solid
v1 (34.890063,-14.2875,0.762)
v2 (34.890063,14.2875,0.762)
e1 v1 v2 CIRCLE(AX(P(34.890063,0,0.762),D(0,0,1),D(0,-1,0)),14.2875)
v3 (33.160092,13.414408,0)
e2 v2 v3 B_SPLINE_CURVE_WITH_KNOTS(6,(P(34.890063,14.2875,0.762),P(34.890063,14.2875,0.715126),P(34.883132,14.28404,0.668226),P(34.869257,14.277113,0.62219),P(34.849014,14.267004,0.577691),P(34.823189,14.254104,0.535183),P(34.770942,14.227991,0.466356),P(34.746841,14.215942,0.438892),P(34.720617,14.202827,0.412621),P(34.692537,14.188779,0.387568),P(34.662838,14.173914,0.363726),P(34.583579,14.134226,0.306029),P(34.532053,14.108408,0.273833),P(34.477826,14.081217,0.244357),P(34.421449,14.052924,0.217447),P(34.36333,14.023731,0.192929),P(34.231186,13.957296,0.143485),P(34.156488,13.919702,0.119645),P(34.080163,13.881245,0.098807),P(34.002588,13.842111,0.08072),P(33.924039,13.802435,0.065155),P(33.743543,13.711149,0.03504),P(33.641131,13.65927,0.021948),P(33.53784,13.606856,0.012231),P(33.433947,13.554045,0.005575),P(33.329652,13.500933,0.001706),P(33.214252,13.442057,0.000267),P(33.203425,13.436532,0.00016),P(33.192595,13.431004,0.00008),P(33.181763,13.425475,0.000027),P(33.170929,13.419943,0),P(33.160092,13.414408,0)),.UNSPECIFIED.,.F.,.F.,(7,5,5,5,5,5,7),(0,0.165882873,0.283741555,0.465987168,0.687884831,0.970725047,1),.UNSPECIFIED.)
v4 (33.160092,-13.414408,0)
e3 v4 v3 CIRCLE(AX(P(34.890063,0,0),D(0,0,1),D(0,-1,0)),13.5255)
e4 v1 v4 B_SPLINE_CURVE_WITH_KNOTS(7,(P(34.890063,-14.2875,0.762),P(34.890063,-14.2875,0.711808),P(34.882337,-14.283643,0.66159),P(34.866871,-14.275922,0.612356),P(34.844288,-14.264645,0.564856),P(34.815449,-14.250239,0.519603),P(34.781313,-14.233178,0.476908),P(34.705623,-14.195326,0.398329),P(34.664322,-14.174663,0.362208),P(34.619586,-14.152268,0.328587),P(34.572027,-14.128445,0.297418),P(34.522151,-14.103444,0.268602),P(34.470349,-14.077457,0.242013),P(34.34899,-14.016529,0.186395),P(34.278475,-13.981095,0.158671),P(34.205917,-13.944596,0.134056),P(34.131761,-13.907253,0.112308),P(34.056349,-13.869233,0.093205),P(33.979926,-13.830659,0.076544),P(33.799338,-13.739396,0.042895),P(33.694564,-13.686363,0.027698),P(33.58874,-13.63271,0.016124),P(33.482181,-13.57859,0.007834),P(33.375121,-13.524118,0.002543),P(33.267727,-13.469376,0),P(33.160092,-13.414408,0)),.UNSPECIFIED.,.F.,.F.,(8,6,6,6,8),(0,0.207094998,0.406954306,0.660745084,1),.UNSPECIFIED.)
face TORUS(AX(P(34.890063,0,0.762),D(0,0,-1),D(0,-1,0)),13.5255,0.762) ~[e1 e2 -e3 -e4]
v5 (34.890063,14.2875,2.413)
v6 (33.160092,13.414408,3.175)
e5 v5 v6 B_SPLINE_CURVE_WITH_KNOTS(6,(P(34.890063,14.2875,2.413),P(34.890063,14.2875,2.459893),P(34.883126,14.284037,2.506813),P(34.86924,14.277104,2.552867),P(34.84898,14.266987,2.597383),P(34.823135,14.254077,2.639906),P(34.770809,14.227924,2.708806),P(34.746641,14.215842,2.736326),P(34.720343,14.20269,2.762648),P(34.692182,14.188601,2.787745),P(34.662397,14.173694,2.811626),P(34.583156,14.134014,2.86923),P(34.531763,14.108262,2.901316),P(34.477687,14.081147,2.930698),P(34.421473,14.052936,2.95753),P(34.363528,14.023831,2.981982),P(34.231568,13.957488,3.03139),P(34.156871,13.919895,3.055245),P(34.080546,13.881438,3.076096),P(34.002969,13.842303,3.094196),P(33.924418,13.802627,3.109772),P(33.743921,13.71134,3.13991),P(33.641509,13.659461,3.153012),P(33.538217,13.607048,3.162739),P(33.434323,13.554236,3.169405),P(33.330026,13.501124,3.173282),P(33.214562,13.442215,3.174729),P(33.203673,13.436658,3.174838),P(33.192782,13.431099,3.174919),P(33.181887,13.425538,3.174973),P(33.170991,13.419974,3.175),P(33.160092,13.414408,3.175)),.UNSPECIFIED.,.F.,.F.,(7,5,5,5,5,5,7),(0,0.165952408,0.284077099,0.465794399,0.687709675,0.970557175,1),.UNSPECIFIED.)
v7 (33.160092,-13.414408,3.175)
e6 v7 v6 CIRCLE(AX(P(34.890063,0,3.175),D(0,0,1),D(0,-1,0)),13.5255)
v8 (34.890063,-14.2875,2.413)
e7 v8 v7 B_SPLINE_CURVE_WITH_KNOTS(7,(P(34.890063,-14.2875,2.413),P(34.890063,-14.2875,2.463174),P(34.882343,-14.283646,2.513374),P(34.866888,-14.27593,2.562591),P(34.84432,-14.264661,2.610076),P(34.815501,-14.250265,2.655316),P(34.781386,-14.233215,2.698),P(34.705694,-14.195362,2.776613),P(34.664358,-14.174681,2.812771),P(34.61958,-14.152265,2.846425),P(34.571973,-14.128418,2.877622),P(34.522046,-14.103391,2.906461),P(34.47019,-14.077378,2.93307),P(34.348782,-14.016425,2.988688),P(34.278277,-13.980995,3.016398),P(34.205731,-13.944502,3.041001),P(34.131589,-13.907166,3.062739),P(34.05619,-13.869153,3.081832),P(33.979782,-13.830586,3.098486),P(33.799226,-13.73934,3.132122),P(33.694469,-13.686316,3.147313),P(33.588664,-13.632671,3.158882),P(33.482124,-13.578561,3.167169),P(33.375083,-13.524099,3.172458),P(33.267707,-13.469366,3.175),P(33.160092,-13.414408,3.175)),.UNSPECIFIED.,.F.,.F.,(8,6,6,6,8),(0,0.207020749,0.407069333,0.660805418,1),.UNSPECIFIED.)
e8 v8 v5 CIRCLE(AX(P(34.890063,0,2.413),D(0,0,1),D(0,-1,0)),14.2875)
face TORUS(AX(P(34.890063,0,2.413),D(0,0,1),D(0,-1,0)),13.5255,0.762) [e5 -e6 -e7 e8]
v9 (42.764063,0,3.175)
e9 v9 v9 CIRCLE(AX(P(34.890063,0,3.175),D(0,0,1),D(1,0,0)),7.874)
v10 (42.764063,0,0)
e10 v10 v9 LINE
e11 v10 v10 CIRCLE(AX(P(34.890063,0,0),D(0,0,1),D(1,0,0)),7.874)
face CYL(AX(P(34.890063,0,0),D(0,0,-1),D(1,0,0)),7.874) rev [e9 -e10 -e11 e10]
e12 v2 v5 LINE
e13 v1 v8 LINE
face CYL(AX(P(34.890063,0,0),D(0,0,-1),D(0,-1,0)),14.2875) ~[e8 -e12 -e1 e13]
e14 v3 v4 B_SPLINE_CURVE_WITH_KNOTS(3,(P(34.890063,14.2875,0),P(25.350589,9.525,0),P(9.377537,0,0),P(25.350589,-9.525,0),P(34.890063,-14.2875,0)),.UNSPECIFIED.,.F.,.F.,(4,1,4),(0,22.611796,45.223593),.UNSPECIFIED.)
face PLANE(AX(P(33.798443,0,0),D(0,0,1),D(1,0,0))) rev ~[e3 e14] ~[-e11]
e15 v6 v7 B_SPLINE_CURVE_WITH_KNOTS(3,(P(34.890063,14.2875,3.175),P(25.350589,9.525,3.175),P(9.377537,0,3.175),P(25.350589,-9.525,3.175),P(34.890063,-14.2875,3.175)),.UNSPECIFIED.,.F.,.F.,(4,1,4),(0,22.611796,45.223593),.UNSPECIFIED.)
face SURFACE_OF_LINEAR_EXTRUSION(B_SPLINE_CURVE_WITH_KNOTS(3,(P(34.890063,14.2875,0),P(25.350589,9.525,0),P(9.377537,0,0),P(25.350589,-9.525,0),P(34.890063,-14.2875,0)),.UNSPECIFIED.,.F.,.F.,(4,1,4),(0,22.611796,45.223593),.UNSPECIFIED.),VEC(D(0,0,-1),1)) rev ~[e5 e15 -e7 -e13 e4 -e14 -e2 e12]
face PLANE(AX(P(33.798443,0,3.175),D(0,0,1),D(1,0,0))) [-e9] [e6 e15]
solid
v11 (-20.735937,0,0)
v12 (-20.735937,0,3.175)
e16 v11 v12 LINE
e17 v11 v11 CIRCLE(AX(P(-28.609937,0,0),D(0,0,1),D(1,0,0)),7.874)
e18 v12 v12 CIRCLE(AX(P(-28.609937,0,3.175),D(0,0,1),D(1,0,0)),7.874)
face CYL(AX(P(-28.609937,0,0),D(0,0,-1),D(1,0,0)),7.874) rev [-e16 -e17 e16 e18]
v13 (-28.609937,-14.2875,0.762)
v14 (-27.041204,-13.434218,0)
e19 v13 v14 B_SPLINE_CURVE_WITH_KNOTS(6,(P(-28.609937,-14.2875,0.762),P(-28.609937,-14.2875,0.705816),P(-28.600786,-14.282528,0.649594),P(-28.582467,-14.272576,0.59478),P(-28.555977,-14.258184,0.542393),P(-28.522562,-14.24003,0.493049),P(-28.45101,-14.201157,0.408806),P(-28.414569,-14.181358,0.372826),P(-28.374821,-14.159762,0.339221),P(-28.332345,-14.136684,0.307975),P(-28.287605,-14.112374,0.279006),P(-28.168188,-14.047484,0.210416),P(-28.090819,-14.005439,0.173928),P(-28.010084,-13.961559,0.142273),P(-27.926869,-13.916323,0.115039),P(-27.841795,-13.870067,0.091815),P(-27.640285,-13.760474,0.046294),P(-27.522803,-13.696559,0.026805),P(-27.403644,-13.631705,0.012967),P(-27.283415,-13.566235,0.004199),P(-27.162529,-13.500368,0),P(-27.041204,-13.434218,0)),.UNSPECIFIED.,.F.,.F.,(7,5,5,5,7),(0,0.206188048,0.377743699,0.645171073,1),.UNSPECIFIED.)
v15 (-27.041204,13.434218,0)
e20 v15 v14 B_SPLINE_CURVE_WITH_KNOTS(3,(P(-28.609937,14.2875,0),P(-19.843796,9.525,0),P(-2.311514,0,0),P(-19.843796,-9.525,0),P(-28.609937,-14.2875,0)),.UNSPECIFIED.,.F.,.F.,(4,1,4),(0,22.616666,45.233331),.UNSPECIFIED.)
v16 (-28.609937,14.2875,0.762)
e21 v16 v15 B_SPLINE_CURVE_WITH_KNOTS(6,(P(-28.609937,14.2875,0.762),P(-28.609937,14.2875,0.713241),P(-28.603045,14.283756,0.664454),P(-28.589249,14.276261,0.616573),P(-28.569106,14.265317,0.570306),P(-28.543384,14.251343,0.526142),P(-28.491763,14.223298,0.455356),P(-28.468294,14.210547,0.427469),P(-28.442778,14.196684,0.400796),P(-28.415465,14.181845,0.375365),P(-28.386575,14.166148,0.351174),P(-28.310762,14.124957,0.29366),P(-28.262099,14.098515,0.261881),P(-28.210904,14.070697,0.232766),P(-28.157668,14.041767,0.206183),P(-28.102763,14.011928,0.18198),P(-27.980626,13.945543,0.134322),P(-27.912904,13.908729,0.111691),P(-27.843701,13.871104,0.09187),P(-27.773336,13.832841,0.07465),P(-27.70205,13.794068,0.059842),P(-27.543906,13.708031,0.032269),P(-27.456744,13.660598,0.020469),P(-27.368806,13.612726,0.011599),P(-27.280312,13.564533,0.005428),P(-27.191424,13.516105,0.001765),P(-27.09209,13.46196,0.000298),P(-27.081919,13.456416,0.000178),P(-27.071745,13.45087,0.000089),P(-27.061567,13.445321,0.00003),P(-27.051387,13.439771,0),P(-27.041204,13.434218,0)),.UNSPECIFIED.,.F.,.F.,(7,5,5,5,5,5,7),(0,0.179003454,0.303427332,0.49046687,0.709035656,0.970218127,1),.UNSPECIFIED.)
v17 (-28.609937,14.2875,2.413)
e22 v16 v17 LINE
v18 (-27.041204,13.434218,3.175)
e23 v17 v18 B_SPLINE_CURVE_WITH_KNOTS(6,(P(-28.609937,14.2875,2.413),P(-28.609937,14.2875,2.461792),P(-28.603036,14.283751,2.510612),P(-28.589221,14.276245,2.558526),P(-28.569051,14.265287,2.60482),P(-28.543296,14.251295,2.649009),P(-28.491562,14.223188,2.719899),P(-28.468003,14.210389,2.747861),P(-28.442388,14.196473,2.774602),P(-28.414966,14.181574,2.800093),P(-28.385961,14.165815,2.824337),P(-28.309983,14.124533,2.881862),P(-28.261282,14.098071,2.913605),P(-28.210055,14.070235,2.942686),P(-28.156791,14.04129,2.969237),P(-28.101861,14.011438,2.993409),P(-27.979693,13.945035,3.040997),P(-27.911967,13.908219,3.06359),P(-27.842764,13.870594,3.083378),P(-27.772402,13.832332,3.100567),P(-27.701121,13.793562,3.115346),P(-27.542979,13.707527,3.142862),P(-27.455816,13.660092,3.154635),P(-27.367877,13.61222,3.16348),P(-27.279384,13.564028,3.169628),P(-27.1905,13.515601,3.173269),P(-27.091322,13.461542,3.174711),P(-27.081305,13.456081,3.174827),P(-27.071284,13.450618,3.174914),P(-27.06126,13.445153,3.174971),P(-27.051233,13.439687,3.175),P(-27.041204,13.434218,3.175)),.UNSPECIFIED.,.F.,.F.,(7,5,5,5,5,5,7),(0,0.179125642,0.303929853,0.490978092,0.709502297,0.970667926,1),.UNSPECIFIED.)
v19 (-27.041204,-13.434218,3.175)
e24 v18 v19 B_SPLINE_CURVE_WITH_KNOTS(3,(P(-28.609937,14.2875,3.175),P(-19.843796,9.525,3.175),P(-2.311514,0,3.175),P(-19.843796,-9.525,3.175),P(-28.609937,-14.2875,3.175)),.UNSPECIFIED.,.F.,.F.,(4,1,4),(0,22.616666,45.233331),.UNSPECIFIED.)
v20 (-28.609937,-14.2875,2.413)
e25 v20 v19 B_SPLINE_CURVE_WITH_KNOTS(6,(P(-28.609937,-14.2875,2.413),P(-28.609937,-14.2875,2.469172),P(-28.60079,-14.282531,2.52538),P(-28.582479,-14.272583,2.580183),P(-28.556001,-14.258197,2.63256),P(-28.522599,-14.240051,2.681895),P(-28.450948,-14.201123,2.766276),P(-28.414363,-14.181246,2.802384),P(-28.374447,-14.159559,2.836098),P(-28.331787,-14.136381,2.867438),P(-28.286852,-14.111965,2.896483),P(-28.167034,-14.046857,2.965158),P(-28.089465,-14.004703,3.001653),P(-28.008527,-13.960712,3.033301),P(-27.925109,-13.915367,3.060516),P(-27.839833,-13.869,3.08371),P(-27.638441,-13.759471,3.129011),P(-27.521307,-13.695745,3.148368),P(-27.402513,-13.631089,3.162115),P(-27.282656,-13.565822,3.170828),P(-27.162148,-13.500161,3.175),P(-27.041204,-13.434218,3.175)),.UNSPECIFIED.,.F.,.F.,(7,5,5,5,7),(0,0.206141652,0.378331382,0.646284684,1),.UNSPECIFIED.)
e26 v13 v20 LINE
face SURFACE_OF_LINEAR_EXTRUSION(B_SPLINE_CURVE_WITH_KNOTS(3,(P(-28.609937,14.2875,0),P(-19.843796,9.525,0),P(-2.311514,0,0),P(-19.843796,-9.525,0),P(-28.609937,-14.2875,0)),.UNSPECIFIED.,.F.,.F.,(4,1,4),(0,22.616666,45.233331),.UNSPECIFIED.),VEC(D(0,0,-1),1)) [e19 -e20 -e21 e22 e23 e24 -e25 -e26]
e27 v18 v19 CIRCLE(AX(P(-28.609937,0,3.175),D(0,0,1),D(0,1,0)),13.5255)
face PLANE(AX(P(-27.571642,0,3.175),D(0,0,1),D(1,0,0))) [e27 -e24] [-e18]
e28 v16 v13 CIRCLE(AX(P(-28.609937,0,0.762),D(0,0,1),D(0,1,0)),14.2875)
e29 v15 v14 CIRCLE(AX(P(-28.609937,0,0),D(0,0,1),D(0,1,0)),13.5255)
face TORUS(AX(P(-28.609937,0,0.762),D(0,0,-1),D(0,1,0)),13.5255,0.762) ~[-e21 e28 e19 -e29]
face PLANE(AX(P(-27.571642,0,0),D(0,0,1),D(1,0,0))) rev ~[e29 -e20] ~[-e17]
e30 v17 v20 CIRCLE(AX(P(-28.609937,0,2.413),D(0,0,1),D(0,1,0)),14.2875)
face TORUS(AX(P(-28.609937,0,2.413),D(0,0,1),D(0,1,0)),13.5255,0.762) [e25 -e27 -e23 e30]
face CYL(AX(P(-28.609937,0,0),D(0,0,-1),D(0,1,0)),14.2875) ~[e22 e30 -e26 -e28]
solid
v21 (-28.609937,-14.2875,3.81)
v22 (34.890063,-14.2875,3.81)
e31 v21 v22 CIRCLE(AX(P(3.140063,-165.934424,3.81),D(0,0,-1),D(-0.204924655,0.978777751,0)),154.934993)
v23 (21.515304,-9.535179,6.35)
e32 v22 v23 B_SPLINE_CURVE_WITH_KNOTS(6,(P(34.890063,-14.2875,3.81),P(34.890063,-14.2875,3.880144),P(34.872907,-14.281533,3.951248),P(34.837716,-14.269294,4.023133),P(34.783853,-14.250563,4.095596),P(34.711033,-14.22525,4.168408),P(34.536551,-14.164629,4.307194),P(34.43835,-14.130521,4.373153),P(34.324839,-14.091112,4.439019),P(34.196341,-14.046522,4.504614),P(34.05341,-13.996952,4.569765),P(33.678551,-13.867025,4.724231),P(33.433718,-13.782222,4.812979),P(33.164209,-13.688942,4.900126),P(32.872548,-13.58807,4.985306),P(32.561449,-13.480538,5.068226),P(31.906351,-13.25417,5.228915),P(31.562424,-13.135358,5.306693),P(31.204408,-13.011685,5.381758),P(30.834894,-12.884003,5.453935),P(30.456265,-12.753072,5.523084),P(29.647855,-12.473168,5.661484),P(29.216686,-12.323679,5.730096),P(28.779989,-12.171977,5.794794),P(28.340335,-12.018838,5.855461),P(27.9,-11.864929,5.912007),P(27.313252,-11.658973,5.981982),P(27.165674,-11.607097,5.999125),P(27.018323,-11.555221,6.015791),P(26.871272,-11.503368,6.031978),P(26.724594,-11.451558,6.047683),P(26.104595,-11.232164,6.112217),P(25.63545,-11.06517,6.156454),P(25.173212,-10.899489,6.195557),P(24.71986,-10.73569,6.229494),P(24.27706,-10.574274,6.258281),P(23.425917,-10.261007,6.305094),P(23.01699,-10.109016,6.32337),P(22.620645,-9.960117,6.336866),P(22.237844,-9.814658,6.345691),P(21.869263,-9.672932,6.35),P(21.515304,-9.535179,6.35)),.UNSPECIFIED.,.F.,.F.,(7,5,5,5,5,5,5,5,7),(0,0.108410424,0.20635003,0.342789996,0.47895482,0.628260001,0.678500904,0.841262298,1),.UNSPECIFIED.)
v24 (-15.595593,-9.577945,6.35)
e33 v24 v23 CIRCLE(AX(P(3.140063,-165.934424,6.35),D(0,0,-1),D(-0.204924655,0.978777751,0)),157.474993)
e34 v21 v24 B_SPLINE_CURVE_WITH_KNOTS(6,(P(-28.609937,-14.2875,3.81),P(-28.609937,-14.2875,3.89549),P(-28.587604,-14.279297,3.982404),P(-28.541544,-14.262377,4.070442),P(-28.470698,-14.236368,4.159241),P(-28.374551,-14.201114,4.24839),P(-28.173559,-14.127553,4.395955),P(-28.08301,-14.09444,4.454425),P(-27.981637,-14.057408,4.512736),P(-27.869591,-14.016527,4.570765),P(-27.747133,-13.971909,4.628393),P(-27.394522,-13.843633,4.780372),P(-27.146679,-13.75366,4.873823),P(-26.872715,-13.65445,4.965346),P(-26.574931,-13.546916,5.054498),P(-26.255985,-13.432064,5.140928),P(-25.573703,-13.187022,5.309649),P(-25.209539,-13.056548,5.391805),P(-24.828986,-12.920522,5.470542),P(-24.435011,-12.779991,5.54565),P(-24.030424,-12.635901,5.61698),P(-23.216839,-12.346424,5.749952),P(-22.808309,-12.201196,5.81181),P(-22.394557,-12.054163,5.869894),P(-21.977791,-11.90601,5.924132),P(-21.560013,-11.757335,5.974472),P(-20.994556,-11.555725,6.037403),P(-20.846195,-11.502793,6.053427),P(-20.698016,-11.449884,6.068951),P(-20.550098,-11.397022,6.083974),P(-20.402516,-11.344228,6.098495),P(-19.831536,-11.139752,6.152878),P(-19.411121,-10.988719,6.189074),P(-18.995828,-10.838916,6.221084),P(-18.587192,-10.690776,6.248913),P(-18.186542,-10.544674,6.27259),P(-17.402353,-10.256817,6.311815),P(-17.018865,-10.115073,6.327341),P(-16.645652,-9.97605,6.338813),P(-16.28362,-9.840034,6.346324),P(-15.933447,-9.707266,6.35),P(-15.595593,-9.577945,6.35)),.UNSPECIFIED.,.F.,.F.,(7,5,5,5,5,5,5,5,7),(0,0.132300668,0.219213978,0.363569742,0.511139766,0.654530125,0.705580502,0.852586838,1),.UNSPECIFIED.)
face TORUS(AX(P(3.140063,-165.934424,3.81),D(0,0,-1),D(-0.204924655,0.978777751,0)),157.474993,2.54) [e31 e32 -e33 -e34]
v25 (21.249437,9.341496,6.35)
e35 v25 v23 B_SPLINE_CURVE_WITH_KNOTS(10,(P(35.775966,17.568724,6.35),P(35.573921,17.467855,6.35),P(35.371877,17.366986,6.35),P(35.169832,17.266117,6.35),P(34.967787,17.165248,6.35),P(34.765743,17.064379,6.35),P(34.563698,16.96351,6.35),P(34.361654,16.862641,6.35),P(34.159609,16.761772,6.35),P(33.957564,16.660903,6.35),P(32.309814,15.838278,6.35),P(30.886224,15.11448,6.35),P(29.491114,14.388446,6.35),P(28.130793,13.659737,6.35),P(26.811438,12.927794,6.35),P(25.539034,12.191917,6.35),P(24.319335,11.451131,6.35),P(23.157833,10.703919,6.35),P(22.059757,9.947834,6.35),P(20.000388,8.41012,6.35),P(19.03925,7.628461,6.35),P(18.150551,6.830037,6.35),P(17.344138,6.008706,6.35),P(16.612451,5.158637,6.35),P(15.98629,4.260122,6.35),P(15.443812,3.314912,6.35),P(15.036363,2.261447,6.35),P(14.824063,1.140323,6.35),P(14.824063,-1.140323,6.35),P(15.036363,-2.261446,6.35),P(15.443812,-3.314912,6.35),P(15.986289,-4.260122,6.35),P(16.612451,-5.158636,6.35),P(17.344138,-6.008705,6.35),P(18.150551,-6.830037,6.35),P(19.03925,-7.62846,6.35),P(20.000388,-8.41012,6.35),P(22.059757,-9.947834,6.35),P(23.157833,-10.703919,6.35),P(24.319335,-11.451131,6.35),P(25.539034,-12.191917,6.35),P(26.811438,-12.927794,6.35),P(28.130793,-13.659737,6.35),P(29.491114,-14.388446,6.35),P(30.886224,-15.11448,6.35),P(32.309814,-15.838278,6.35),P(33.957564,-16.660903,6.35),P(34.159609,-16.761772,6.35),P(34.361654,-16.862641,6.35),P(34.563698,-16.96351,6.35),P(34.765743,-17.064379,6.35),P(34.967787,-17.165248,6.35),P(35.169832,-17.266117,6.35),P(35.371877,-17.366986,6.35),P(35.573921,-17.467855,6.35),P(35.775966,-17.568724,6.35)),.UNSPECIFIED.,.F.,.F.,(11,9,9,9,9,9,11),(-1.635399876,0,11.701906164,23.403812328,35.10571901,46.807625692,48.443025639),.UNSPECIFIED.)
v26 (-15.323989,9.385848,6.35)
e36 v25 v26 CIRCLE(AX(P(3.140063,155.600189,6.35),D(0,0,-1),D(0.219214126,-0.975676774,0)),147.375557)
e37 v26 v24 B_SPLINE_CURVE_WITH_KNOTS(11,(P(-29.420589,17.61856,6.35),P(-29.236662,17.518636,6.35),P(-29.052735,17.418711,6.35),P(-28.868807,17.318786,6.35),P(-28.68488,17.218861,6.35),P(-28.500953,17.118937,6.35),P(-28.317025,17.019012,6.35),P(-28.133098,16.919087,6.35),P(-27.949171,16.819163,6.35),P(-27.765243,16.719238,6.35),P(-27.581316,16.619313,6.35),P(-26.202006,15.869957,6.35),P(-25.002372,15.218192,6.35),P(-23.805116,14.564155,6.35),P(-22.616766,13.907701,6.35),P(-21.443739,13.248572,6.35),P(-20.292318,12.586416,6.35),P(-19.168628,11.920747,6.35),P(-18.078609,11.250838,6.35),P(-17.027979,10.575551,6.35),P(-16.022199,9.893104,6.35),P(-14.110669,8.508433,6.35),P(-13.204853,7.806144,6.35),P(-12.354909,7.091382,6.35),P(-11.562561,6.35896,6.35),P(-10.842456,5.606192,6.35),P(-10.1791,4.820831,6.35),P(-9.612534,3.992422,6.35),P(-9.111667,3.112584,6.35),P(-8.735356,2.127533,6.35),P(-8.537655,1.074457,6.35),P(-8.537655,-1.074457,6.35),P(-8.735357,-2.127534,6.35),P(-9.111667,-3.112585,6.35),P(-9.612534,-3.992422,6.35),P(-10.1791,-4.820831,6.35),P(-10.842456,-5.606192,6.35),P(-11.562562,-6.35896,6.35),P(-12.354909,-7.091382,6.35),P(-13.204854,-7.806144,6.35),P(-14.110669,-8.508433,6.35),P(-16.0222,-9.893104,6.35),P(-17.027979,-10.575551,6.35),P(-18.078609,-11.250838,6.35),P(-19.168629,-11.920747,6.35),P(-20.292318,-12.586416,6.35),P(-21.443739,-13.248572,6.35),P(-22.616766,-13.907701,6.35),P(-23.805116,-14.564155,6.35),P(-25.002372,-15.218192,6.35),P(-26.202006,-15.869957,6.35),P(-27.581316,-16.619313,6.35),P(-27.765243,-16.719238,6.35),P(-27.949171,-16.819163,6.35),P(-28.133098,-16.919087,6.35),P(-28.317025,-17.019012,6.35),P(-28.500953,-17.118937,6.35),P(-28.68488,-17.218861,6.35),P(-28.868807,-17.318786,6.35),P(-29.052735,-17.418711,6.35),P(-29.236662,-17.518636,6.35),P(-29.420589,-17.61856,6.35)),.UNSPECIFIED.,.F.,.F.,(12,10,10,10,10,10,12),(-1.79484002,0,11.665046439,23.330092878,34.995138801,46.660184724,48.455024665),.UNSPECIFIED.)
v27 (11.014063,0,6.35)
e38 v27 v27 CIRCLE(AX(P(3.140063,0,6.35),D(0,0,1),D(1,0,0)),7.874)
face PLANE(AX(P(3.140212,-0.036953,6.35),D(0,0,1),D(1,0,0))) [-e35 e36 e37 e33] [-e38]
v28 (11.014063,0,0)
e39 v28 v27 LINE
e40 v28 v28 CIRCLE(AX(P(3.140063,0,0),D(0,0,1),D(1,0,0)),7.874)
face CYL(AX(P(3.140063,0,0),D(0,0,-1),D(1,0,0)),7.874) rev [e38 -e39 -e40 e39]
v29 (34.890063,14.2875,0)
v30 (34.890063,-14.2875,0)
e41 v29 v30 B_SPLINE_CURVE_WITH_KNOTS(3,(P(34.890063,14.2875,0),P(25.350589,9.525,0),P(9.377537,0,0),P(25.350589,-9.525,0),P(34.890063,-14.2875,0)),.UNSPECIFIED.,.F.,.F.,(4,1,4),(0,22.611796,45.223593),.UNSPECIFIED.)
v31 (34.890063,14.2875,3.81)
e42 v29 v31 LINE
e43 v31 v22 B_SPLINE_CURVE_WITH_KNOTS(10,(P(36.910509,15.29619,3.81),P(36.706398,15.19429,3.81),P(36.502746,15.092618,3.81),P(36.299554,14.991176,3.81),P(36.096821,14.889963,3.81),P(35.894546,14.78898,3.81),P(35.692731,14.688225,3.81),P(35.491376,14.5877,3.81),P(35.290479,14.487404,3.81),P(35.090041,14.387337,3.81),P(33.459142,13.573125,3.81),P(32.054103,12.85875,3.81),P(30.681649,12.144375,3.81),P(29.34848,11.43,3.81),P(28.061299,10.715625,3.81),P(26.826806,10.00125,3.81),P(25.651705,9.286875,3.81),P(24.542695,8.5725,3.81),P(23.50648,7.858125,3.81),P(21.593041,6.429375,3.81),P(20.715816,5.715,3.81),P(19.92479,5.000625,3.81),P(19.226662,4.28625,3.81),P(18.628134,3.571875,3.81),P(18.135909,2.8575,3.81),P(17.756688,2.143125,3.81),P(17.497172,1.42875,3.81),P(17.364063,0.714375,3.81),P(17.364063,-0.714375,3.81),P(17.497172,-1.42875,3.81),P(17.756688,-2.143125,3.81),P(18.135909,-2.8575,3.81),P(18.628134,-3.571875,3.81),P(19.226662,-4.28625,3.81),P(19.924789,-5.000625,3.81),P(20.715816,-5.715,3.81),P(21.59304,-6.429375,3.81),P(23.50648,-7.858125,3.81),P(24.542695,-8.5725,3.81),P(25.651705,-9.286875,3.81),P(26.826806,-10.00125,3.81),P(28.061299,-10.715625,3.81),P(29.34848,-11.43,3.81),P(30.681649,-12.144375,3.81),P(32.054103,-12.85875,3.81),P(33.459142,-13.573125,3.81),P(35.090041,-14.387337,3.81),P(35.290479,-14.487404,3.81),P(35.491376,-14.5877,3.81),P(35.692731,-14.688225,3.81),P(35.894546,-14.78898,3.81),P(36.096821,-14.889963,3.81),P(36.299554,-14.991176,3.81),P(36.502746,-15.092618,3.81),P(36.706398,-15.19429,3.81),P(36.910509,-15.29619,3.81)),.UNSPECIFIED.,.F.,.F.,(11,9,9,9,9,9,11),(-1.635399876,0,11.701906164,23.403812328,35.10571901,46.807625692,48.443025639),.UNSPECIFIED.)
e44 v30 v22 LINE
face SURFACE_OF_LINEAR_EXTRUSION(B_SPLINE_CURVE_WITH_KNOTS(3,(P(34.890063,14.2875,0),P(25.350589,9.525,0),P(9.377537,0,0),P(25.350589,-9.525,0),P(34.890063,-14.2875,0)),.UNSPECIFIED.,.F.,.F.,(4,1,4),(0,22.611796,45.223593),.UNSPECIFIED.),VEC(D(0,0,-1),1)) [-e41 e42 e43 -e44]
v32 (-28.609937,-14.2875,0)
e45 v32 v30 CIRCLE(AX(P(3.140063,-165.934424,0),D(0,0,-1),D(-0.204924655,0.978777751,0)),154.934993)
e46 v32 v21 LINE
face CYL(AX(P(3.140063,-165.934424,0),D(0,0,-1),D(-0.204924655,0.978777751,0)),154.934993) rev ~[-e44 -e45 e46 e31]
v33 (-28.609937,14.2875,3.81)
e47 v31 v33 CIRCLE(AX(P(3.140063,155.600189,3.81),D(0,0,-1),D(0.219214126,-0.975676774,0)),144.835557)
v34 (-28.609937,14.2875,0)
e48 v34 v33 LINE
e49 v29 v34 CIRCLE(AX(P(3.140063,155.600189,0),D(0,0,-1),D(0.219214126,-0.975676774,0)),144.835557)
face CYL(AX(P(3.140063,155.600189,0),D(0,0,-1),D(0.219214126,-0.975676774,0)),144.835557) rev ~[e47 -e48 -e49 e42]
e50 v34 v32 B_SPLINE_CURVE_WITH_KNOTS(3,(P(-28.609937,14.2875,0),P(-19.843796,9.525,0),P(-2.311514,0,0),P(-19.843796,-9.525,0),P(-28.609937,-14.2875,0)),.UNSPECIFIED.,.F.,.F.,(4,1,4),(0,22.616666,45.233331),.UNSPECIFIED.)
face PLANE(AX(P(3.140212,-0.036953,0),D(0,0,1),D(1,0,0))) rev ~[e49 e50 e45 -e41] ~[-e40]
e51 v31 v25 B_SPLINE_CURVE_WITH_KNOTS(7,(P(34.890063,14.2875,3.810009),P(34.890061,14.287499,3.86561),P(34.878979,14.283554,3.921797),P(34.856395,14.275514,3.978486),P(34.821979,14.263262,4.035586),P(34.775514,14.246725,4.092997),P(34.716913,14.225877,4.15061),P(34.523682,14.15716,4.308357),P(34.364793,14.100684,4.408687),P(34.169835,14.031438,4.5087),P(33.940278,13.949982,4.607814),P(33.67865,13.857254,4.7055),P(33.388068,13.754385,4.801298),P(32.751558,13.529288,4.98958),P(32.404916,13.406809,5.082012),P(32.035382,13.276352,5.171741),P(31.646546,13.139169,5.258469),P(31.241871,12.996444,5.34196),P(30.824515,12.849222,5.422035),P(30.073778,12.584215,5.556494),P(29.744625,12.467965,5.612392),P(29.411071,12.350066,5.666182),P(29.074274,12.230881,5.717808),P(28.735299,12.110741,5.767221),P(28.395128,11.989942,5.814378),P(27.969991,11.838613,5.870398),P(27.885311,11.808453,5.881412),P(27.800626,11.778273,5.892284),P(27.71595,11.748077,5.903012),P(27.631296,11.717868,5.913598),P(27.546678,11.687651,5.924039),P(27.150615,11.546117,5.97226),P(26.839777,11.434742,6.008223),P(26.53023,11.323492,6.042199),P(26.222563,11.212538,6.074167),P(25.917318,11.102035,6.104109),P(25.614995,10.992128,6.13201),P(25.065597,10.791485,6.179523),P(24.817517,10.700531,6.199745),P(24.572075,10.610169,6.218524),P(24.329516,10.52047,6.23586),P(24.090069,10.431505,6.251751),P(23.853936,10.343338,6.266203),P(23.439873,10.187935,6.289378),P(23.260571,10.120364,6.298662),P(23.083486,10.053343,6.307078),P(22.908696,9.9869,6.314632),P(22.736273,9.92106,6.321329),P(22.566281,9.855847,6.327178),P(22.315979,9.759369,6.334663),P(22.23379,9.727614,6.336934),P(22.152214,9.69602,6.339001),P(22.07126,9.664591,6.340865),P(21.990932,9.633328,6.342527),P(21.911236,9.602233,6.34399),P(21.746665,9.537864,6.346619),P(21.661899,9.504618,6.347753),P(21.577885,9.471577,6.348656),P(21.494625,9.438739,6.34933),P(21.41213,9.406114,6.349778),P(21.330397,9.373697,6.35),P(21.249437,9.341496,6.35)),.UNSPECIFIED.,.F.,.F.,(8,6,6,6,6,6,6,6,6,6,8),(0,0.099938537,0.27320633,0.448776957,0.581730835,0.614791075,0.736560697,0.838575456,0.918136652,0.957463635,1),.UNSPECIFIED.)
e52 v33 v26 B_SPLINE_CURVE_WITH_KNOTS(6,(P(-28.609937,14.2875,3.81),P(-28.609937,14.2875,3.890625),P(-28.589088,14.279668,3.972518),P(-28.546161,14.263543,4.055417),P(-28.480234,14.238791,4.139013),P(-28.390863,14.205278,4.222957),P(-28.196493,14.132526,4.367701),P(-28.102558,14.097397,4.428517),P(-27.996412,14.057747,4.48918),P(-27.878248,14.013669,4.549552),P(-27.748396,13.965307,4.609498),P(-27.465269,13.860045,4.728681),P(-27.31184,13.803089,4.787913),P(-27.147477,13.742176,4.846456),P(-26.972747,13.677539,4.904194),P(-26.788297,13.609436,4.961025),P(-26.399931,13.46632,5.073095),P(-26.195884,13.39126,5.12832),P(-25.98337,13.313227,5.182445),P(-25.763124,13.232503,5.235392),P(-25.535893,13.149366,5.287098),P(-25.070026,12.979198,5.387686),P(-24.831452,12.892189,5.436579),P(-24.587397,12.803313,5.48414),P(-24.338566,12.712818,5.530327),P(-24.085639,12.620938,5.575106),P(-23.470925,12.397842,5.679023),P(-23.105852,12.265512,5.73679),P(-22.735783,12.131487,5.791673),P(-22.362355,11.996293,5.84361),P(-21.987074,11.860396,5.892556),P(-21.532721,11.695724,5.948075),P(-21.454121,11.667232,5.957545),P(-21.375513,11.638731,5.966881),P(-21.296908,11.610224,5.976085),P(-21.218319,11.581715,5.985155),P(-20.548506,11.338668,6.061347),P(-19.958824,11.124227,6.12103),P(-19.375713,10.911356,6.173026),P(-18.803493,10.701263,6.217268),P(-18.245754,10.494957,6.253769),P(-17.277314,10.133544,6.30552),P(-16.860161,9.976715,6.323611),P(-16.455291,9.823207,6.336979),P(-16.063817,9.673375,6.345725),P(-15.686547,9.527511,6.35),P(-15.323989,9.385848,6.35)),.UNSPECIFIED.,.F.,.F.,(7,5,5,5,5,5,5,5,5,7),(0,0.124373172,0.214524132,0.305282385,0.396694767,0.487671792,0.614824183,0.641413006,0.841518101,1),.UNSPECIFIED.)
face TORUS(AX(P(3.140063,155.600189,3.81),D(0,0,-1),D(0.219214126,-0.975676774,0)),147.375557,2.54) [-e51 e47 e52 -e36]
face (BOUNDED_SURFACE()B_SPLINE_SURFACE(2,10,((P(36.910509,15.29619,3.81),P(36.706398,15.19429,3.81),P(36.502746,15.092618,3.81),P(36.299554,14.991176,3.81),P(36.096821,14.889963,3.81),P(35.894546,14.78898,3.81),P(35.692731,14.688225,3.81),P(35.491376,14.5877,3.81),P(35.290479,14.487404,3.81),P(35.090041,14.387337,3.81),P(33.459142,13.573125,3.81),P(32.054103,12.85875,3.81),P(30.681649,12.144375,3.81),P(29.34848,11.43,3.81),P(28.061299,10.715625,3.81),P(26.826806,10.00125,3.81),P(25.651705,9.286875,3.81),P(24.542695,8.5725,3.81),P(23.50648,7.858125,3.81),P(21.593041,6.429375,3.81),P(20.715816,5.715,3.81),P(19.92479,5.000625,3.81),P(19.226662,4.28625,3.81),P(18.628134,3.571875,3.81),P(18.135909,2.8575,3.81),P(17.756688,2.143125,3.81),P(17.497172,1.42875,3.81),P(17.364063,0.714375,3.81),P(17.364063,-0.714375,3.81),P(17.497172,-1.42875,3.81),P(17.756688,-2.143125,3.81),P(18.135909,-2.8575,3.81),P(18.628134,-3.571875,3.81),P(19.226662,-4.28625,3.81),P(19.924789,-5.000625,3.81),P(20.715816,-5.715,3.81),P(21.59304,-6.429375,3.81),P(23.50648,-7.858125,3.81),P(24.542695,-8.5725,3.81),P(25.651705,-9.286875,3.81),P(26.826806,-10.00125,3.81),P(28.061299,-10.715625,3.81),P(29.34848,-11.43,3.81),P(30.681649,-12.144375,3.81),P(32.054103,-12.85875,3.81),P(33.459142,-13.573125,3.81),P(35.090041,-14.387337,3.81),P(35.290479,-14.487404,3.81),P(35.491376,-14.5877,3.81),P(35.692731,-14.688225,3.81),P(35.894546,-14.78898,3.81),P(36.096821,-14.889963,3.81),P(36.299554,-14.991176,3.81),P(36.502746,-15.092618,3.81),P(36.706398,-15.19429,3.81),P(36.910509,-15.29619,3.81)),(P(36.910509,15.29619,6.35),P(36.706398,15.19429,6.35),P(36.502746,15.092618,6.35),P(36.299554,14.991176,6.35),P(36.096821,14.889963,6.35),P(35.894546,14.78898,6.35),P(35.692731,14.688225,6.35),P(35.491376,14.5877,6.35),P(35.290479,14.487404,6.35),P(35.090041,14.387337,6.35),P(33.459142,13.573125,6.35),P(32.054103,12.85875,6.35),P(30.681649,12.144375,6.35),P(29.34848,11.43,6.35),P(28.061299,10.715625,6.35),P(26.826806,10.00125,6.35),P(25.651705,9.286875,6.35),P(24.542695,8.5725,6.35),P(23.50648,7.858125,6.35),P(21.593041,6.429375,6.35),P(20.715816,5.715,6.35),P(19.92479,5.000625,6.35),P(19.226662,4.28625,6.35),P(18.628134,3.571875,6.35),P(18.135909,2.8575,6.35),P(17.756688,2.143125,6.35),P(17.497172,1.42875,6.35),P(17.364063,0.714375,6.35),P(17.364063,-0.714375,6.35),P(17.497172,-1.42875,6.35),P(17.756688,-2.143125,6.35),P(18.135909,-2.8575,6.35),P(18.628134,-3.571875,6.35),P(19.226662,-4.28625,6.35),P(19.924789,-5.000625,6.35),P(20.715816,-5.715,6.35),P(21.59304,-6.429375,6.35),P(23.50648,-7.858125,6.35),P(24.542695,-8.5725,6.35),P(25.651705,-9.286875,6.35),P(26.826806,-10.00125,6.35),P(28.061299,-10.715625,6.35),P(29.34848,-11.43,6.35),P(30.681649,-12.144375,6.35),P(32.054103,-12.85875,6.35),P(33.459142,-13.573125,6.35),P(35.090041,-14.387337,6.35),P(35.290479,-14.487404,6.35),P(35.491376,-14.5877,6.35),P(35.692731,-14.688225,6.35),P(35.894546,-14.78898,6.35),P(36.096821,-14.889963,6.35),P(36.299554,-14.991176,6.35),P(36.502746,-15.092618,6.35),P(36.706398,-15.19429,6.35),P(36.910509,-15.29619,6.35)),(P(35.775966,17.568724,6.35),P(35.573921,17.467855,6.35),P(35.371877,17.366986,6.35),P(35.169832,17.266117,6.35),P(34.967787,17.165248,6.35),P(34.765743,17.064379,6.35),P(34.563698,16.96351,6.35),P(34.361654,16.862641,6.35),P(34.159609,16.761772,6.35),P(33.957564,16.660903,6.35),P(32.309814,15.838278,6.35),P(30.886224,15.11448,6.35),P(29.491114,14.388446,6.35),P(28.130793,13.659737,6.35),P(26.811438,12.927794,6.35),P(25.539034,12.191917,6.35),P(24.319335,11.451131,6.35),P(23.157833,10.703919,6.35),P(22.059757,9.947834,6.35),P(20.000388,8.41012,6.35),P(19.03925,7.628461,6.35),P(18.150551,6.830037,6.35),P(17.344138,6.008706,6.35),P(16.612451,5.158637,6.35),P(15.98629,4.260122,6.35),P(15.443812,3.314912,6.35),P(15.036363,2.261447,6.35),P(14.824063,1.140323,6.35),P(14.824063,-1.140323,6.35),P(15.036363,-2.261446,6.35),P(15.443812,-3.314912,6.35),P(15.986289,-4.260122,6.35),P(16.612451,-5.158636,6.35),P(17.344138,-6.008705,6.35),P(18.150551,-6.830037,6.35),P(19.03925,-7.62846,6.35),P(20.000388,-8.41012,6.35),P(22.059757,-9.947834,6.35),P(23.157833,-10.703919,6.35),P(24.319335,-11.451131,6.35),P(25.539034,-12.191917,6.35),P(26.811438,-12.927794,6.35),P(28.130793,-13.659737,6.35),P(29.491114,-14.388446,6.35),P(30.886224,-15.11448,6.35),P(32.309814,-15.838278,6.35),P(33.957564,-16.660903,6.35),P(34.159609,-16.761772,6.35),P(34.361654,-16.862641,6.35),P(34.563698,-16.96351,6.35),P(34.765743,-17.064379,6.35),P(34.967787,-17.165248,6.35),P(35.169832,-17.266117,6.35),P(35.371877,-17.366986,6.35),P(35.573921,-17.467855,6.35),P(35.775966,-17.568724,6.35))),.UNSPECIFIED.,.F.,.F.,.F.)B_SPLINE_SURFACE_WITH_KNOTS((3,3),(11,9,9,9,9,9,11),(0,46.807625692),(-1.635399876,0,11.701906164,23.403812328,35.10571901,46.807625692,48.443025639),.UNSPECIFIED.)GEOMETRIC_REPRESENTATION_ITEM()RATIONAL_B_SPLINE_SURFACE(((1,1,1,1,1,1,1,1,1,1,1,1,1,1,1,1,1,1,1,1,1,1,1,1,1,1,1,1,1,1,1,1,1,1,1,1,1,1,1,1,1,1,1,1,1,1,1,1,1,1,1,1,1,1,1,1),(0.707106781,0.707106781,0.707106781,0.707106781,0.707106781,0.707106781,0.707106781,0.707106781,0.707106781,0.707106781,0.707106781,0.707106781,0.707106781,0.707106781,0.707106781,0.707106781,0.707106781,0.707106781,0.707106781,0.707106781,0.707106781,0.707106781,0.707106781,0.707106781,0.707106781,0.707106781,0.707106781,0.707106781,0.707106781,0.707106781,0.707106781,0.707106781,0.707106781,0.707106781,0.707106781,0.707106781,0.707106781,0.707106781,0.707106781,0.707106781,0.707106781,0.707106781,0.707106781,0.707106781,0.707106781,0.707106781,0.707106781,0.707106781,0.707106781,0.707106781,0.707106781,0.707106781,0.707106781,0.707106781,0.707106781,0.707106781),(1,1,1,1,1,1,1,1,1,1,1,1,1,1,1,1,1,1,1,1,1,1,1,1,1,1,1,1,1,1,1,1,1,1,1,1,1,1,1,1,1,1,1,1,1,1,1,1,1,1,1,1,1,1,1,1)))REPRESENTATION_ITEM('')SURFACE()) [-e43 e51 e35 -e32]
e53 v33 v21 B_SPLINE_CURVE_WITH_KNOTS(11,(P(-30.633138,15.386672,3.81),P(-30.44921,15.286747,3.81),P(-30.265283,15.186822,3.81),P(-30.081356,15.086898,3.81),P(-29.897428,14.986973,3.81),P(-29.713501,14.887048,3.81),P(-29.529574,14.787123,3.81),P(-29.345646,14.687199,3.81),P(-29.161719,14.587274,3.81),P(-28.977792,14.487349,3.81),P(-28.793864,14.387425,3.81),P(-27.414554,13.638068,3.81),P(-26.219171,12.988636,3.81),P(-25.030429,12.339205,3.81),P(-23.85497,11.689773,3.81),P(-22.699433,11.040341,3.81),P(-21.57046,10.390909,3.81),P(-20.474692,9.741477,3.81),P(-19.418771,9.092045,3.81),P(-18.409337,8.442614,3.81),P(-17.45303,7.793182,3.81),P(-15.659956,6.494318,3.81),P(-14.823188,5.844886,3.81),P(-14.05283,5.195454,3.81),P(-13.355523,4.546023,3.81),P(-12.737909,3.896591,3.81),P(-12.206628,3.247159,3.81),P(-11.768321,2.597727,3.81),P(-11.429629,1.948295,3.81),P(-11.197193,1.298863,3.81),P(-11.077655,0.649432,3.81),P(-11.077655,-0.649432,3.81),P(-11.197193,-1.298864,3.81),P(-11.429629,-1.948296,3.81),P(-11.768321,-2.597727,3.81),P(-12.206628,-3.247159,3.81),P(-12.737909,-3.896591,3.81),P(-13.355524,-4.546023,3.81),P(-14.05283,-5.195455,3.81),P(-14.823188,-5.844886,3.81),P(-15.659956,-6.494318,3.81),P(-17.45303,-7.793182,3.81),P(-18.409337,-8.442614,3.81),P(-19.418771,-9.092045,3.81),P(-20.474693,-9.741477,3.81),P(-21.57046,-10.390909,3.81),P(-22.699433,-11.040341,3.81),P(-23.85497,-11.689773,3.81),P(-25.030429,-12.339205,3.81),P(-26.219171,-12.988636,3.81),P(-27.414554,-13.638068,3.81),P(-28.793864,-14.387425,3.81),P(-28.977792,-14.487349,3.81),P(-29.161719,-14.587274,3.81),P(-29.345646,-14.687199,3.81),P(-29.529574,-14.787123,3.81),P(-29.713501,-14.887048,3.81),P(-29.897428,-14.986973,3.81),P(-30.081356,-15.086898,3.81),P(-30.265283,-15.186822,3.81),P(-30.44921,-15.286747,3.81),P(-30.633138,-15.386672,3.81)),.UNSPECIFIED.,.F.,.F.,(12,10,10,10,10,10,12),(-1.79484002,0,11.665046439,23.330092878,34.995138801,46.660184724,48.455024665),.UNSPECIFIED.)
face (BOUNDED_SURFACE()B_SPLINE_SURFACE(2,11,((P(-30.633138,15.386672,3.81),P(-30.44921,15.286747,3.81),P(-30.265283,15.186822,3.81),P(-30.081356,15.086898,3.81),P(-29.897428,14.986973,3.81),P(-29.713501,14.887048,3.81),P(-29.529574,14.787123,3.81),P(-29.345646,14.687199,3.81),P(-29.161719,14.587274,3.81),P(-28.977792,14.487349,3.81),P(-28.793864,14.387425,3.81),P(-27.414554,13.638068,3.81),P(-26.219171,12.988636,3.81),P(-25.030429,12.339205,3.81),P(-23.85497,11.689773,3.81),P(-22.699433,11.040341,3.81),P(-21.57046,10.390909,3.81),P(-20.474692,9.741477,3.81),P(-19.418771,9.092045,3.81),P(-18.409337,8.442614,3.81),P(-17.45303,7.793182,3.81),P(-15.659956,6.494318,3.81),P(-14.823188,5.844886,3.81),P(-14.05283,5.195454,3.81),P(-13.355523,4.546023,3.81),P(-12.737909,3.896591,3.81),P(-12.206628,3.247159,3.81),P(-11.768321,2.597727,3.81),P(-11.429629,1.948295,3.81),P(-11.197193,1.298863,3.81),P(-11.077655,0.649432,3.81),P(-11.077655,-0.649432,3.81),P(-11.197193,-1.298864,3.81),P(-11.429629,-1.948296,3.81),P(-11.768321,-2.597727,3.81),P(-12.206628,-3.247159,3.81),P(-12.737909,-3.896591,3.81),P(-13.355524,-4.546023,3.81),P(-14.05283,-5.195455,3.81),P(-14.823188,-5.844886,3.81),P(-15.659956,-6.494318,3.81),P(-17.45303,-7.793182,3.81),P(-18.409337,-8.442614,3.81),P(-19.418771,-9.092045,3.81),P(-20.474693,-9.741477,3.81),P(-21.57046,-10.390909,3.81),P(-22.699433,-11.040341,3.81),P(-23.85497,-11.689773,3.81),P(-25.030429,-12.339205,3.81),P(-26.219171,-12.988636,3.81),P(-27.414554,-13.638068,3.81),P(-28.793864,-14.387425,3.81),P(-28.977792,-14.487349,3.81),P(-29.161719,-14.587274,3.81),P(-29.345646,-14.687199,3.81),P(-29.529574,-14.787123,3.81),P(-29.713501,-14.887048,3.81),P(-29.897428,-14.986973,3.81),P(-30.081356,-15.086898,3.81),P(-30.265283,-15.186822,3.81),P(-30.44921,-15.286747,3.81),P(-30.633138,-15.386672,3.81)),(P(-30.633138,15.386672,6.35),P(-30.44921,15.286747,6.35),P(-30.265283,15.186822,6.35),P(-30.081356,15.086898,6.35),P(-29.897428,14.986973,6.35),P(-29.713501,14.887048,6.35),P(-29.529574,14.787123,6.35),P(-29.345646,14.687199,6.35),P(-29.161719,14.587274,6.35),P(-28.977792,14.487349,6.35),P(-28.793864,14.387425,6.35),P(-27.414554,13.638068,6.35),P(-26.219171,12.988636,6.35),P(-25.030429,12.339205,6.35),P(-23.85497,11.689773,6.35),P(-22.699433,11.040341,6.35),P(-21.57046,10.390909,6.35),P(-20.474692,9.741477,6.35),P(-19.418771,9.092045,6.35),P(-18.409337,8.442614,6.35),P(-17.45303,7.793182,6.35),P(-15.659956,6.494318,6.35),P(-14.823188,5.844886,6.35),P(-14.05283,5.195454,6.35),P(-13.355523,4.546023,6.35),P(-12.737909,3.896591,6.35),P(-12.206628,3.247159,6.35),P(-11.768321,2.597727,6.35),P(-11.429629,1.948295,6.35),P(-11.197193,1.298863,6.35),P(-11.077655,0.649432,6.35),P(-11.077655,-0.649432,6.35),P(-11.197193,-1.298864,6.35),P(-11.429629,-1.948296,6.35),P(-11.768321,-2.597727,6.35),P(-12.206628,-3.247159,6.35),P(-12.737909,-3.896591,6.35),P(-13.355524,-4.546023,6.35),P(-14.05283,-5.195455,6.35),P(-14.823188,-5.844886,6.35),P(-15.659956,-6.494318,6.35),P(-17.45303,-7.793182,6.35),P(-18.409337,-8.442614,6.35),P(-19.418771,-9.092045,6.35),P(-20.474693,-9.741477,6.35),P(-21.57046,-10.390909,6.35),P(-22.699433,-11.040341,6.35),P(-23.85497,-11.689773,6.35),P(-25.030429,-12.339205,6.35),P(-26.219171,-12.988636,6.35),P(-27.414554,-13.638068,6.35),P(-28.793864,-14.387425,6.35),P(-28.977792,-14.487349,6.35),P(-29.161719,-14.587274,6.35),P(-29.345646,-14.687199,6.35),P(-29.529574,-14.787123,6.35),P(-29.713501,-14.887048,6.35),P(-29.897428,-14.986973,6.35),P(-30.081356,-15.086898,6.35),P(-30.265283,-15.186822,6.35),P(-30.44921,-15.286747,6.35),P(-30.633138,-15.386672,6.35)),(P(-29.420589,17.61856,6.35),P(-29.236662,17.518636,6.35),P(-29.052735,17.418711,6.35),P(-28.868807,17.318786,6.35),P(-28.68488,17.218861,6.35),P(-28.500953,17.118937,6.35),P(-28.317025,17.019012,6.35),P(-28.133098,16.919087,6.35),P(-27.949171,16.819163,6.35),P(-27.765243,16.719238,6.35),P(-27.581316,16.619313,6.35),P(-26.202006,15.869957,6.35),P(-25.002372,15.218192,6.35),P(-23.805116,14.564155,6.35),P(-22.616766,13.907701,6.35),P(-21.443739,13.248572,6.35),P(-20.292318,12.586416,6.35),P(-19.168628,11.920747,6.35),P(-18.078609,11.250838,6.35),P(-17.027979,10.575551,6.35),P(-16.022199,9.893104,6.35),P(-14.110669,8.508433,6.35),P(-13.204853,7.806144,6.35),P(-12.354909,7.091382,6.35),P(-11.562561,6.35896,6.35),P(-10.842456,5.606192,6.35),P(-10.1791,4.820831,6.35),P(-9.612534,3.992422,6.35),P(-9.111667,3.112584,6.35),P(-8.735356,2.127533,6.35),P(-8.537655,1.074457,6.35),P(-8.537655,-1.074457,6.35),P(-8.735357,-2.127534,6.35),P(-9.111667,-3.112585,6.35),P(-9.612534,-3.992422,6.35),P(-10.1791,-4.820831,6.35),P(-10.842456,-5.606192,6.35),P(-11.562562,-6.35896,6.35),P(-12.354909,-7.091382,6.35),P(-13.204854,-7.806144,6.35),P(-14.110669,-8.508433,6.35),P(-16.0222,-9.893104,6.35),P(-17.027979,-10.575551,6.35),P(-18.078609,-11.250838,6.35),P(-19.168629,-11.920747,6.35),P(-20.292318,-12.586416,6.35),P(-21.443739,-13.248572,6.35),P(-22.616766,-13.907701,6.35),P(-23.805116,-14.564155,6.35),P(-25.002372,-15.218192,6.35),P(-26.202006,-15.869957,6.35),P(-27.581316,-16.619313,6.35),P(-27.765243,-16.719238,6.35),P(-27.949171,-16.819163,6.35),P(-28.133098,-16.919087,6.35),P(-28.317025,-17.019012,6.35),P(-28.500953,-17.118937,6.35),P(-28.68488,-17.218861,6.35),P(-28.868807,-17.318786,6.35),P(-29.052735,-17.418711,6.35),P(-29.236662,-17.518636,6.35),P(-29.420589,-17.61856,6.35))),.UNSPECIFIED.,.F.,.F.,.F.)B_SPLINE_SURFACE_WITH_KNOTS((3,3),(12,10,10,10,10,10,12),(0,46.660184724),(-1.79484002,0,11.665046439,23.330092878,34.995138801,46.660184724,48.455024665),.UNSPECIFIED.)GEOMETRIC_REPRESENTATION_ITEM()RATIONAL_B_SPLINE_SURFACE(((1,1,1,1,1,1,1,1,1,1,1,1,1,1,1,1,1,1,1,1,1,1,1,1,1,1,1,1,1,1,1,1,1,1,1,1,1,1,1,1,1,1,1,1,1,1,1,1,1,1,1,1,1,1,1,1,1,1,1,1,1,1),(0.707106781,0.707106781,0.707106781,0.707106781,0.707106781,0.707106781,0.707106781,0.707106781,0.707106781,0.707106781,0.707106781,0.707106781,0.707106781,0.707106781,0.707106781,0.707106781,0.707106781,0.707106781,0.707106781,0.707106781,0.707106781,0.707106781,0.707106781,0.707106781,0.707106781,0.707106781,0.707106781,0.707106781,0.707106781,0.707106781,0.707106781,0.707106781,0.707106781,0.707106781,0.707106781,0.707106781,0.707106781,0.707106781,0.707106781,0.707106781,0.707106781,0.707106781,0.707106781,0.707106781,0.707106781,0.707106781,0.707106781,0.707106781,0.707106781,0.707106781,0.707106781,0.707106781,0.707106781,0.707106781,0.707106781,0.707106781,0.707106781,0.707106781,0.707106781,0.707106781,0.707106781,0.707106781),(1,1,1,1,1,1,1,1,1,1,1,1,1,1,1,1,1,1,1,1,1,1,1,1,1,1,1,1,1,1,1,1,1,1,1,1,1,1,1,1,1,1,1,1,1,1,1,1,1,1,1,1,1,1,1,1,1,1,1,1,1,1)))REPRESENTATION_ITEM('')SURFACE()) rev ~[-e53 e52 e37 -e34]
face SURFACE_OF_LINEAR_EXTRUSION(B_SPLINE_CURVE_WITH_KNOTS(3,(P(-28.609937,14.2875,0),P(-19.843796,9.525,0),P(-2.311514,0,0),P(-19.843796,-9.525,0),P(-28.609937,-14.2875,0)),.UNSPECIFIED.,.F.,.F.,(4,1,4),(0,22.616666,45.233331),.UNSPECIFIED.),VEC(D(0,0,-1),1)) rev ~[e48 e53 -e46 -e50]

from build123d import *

# Parameters (mm, degrees)
F0_R     = 7.874
F1_DEPTH = 3.175
F2_DEPTH = 6.35
F3_R     = 0.762
F4_R     = 2.54


with BuildPart() as f1:
    # F0 (on Top) → F1 (new body)
    with BuildSketch(Plane.XY):
        with BuildLine():
            ThreePointArc((-28.609937, 14.2875), (-42.897437, 0), (-28.609937, -14.2875))
            add(Edge.make_bspline(
                [(-28.609937, 14.2875), (-19.843796, 9.525), (-2.311514, 0), (-19.843796, -9.525), (-28.609937, -14.2875)],
                knots=[0, 0, 0, 0, 22.616666, 45.233331, 45.233331, 45.233331, 45.233331], degree=3))
        make_face()
        with Locations((-28.609937, 0)):
            Circle(F0_R, mode=Mode.SUBTRACT)
        with BuildLine():
            add(Edge.make_bspline(
                [(34.890063, 14.2875), (25.350589, 9.525), (9.377537, 0), (25.350589, -9.525), (34.890063, -14.2875)],
                knots=[0, 0, 0, 0, 22.611796, 45.223593, 45.223593, 45.223593, 45.223593], degree=3))
            ThreePointArc((34.890063, -14.2875), (49.177563, 0), (34.890063, 14.2875))
        make_face()
        with Locations((34.890063, 0)):
            Circle(F0_R, mode=Mode.SUBTRACT)
    extrude(amount=F1_DEPTH)

    # F3
    f3_edges = [f1.edges().sort_by_distance(p)[0] for p in [
        (-42.897437, 0, 3.175),
        (49.177563, 0, 3.175),
        (49.177563, 0, 0),
        (-42.897437, 0, 0),
    ]]
    fillet(f3_edges, radius=F3_R)


with BuildPart() as f2:
    # F0 (on Top) → F2 (new body)
    with BuildSketch(Plane.XY):
        with BuildLine():
            ThreePointArc((-28.609937, -14.2875), (3.140063, -10.999431), (34.890063, -14.2875))
            add(Edge.make_bspline(
                [(34.890063, 14.2875), (25.350589, 9.525), (9.377537, 0), (25.350589, -9.525), (34.890063, -14.2875)],
                knots=[0, 0, 0, 0, 22.611796, 45.223593, 45.223593, 45.223593, 45.223593], degree=3))
            ThreePointArc((34.890063, 14.2875), (3.140063, 10.764632), (-28.609937, 14.2875))
            add(Edge.make_bspline(
                [(-28.609937, 14.2875), (-19.843796, 9.525), (-2.311514, 0), (-19.843796, -9.525), (-28.609937, -14.2875)],
                knots=[0, 0, 0, 0, 22.616666, 45.233331, 45.233331, 45.233331, 45.233331], degree=3))
        make_face()
        with Locations((3.140063, 0)):
            Circle(F0_R, mode=Mode.SUBTRACT)
    extrude(amount=F2_DEPTH)

    # F4
    f4_edges = [f2.edges().sort_by_distance(p)[0] for p in [
        (3.140063, -10.999431, 6.35),
        (3.140063, 10.764632, 6.35),
        (17.364063, 0, 6.35),
        (-11.077655, 0, 6.35),
    ]]
    fillet(f4_edges, radius=F4_R)


solid = Compound([f1.part, f2.part])
